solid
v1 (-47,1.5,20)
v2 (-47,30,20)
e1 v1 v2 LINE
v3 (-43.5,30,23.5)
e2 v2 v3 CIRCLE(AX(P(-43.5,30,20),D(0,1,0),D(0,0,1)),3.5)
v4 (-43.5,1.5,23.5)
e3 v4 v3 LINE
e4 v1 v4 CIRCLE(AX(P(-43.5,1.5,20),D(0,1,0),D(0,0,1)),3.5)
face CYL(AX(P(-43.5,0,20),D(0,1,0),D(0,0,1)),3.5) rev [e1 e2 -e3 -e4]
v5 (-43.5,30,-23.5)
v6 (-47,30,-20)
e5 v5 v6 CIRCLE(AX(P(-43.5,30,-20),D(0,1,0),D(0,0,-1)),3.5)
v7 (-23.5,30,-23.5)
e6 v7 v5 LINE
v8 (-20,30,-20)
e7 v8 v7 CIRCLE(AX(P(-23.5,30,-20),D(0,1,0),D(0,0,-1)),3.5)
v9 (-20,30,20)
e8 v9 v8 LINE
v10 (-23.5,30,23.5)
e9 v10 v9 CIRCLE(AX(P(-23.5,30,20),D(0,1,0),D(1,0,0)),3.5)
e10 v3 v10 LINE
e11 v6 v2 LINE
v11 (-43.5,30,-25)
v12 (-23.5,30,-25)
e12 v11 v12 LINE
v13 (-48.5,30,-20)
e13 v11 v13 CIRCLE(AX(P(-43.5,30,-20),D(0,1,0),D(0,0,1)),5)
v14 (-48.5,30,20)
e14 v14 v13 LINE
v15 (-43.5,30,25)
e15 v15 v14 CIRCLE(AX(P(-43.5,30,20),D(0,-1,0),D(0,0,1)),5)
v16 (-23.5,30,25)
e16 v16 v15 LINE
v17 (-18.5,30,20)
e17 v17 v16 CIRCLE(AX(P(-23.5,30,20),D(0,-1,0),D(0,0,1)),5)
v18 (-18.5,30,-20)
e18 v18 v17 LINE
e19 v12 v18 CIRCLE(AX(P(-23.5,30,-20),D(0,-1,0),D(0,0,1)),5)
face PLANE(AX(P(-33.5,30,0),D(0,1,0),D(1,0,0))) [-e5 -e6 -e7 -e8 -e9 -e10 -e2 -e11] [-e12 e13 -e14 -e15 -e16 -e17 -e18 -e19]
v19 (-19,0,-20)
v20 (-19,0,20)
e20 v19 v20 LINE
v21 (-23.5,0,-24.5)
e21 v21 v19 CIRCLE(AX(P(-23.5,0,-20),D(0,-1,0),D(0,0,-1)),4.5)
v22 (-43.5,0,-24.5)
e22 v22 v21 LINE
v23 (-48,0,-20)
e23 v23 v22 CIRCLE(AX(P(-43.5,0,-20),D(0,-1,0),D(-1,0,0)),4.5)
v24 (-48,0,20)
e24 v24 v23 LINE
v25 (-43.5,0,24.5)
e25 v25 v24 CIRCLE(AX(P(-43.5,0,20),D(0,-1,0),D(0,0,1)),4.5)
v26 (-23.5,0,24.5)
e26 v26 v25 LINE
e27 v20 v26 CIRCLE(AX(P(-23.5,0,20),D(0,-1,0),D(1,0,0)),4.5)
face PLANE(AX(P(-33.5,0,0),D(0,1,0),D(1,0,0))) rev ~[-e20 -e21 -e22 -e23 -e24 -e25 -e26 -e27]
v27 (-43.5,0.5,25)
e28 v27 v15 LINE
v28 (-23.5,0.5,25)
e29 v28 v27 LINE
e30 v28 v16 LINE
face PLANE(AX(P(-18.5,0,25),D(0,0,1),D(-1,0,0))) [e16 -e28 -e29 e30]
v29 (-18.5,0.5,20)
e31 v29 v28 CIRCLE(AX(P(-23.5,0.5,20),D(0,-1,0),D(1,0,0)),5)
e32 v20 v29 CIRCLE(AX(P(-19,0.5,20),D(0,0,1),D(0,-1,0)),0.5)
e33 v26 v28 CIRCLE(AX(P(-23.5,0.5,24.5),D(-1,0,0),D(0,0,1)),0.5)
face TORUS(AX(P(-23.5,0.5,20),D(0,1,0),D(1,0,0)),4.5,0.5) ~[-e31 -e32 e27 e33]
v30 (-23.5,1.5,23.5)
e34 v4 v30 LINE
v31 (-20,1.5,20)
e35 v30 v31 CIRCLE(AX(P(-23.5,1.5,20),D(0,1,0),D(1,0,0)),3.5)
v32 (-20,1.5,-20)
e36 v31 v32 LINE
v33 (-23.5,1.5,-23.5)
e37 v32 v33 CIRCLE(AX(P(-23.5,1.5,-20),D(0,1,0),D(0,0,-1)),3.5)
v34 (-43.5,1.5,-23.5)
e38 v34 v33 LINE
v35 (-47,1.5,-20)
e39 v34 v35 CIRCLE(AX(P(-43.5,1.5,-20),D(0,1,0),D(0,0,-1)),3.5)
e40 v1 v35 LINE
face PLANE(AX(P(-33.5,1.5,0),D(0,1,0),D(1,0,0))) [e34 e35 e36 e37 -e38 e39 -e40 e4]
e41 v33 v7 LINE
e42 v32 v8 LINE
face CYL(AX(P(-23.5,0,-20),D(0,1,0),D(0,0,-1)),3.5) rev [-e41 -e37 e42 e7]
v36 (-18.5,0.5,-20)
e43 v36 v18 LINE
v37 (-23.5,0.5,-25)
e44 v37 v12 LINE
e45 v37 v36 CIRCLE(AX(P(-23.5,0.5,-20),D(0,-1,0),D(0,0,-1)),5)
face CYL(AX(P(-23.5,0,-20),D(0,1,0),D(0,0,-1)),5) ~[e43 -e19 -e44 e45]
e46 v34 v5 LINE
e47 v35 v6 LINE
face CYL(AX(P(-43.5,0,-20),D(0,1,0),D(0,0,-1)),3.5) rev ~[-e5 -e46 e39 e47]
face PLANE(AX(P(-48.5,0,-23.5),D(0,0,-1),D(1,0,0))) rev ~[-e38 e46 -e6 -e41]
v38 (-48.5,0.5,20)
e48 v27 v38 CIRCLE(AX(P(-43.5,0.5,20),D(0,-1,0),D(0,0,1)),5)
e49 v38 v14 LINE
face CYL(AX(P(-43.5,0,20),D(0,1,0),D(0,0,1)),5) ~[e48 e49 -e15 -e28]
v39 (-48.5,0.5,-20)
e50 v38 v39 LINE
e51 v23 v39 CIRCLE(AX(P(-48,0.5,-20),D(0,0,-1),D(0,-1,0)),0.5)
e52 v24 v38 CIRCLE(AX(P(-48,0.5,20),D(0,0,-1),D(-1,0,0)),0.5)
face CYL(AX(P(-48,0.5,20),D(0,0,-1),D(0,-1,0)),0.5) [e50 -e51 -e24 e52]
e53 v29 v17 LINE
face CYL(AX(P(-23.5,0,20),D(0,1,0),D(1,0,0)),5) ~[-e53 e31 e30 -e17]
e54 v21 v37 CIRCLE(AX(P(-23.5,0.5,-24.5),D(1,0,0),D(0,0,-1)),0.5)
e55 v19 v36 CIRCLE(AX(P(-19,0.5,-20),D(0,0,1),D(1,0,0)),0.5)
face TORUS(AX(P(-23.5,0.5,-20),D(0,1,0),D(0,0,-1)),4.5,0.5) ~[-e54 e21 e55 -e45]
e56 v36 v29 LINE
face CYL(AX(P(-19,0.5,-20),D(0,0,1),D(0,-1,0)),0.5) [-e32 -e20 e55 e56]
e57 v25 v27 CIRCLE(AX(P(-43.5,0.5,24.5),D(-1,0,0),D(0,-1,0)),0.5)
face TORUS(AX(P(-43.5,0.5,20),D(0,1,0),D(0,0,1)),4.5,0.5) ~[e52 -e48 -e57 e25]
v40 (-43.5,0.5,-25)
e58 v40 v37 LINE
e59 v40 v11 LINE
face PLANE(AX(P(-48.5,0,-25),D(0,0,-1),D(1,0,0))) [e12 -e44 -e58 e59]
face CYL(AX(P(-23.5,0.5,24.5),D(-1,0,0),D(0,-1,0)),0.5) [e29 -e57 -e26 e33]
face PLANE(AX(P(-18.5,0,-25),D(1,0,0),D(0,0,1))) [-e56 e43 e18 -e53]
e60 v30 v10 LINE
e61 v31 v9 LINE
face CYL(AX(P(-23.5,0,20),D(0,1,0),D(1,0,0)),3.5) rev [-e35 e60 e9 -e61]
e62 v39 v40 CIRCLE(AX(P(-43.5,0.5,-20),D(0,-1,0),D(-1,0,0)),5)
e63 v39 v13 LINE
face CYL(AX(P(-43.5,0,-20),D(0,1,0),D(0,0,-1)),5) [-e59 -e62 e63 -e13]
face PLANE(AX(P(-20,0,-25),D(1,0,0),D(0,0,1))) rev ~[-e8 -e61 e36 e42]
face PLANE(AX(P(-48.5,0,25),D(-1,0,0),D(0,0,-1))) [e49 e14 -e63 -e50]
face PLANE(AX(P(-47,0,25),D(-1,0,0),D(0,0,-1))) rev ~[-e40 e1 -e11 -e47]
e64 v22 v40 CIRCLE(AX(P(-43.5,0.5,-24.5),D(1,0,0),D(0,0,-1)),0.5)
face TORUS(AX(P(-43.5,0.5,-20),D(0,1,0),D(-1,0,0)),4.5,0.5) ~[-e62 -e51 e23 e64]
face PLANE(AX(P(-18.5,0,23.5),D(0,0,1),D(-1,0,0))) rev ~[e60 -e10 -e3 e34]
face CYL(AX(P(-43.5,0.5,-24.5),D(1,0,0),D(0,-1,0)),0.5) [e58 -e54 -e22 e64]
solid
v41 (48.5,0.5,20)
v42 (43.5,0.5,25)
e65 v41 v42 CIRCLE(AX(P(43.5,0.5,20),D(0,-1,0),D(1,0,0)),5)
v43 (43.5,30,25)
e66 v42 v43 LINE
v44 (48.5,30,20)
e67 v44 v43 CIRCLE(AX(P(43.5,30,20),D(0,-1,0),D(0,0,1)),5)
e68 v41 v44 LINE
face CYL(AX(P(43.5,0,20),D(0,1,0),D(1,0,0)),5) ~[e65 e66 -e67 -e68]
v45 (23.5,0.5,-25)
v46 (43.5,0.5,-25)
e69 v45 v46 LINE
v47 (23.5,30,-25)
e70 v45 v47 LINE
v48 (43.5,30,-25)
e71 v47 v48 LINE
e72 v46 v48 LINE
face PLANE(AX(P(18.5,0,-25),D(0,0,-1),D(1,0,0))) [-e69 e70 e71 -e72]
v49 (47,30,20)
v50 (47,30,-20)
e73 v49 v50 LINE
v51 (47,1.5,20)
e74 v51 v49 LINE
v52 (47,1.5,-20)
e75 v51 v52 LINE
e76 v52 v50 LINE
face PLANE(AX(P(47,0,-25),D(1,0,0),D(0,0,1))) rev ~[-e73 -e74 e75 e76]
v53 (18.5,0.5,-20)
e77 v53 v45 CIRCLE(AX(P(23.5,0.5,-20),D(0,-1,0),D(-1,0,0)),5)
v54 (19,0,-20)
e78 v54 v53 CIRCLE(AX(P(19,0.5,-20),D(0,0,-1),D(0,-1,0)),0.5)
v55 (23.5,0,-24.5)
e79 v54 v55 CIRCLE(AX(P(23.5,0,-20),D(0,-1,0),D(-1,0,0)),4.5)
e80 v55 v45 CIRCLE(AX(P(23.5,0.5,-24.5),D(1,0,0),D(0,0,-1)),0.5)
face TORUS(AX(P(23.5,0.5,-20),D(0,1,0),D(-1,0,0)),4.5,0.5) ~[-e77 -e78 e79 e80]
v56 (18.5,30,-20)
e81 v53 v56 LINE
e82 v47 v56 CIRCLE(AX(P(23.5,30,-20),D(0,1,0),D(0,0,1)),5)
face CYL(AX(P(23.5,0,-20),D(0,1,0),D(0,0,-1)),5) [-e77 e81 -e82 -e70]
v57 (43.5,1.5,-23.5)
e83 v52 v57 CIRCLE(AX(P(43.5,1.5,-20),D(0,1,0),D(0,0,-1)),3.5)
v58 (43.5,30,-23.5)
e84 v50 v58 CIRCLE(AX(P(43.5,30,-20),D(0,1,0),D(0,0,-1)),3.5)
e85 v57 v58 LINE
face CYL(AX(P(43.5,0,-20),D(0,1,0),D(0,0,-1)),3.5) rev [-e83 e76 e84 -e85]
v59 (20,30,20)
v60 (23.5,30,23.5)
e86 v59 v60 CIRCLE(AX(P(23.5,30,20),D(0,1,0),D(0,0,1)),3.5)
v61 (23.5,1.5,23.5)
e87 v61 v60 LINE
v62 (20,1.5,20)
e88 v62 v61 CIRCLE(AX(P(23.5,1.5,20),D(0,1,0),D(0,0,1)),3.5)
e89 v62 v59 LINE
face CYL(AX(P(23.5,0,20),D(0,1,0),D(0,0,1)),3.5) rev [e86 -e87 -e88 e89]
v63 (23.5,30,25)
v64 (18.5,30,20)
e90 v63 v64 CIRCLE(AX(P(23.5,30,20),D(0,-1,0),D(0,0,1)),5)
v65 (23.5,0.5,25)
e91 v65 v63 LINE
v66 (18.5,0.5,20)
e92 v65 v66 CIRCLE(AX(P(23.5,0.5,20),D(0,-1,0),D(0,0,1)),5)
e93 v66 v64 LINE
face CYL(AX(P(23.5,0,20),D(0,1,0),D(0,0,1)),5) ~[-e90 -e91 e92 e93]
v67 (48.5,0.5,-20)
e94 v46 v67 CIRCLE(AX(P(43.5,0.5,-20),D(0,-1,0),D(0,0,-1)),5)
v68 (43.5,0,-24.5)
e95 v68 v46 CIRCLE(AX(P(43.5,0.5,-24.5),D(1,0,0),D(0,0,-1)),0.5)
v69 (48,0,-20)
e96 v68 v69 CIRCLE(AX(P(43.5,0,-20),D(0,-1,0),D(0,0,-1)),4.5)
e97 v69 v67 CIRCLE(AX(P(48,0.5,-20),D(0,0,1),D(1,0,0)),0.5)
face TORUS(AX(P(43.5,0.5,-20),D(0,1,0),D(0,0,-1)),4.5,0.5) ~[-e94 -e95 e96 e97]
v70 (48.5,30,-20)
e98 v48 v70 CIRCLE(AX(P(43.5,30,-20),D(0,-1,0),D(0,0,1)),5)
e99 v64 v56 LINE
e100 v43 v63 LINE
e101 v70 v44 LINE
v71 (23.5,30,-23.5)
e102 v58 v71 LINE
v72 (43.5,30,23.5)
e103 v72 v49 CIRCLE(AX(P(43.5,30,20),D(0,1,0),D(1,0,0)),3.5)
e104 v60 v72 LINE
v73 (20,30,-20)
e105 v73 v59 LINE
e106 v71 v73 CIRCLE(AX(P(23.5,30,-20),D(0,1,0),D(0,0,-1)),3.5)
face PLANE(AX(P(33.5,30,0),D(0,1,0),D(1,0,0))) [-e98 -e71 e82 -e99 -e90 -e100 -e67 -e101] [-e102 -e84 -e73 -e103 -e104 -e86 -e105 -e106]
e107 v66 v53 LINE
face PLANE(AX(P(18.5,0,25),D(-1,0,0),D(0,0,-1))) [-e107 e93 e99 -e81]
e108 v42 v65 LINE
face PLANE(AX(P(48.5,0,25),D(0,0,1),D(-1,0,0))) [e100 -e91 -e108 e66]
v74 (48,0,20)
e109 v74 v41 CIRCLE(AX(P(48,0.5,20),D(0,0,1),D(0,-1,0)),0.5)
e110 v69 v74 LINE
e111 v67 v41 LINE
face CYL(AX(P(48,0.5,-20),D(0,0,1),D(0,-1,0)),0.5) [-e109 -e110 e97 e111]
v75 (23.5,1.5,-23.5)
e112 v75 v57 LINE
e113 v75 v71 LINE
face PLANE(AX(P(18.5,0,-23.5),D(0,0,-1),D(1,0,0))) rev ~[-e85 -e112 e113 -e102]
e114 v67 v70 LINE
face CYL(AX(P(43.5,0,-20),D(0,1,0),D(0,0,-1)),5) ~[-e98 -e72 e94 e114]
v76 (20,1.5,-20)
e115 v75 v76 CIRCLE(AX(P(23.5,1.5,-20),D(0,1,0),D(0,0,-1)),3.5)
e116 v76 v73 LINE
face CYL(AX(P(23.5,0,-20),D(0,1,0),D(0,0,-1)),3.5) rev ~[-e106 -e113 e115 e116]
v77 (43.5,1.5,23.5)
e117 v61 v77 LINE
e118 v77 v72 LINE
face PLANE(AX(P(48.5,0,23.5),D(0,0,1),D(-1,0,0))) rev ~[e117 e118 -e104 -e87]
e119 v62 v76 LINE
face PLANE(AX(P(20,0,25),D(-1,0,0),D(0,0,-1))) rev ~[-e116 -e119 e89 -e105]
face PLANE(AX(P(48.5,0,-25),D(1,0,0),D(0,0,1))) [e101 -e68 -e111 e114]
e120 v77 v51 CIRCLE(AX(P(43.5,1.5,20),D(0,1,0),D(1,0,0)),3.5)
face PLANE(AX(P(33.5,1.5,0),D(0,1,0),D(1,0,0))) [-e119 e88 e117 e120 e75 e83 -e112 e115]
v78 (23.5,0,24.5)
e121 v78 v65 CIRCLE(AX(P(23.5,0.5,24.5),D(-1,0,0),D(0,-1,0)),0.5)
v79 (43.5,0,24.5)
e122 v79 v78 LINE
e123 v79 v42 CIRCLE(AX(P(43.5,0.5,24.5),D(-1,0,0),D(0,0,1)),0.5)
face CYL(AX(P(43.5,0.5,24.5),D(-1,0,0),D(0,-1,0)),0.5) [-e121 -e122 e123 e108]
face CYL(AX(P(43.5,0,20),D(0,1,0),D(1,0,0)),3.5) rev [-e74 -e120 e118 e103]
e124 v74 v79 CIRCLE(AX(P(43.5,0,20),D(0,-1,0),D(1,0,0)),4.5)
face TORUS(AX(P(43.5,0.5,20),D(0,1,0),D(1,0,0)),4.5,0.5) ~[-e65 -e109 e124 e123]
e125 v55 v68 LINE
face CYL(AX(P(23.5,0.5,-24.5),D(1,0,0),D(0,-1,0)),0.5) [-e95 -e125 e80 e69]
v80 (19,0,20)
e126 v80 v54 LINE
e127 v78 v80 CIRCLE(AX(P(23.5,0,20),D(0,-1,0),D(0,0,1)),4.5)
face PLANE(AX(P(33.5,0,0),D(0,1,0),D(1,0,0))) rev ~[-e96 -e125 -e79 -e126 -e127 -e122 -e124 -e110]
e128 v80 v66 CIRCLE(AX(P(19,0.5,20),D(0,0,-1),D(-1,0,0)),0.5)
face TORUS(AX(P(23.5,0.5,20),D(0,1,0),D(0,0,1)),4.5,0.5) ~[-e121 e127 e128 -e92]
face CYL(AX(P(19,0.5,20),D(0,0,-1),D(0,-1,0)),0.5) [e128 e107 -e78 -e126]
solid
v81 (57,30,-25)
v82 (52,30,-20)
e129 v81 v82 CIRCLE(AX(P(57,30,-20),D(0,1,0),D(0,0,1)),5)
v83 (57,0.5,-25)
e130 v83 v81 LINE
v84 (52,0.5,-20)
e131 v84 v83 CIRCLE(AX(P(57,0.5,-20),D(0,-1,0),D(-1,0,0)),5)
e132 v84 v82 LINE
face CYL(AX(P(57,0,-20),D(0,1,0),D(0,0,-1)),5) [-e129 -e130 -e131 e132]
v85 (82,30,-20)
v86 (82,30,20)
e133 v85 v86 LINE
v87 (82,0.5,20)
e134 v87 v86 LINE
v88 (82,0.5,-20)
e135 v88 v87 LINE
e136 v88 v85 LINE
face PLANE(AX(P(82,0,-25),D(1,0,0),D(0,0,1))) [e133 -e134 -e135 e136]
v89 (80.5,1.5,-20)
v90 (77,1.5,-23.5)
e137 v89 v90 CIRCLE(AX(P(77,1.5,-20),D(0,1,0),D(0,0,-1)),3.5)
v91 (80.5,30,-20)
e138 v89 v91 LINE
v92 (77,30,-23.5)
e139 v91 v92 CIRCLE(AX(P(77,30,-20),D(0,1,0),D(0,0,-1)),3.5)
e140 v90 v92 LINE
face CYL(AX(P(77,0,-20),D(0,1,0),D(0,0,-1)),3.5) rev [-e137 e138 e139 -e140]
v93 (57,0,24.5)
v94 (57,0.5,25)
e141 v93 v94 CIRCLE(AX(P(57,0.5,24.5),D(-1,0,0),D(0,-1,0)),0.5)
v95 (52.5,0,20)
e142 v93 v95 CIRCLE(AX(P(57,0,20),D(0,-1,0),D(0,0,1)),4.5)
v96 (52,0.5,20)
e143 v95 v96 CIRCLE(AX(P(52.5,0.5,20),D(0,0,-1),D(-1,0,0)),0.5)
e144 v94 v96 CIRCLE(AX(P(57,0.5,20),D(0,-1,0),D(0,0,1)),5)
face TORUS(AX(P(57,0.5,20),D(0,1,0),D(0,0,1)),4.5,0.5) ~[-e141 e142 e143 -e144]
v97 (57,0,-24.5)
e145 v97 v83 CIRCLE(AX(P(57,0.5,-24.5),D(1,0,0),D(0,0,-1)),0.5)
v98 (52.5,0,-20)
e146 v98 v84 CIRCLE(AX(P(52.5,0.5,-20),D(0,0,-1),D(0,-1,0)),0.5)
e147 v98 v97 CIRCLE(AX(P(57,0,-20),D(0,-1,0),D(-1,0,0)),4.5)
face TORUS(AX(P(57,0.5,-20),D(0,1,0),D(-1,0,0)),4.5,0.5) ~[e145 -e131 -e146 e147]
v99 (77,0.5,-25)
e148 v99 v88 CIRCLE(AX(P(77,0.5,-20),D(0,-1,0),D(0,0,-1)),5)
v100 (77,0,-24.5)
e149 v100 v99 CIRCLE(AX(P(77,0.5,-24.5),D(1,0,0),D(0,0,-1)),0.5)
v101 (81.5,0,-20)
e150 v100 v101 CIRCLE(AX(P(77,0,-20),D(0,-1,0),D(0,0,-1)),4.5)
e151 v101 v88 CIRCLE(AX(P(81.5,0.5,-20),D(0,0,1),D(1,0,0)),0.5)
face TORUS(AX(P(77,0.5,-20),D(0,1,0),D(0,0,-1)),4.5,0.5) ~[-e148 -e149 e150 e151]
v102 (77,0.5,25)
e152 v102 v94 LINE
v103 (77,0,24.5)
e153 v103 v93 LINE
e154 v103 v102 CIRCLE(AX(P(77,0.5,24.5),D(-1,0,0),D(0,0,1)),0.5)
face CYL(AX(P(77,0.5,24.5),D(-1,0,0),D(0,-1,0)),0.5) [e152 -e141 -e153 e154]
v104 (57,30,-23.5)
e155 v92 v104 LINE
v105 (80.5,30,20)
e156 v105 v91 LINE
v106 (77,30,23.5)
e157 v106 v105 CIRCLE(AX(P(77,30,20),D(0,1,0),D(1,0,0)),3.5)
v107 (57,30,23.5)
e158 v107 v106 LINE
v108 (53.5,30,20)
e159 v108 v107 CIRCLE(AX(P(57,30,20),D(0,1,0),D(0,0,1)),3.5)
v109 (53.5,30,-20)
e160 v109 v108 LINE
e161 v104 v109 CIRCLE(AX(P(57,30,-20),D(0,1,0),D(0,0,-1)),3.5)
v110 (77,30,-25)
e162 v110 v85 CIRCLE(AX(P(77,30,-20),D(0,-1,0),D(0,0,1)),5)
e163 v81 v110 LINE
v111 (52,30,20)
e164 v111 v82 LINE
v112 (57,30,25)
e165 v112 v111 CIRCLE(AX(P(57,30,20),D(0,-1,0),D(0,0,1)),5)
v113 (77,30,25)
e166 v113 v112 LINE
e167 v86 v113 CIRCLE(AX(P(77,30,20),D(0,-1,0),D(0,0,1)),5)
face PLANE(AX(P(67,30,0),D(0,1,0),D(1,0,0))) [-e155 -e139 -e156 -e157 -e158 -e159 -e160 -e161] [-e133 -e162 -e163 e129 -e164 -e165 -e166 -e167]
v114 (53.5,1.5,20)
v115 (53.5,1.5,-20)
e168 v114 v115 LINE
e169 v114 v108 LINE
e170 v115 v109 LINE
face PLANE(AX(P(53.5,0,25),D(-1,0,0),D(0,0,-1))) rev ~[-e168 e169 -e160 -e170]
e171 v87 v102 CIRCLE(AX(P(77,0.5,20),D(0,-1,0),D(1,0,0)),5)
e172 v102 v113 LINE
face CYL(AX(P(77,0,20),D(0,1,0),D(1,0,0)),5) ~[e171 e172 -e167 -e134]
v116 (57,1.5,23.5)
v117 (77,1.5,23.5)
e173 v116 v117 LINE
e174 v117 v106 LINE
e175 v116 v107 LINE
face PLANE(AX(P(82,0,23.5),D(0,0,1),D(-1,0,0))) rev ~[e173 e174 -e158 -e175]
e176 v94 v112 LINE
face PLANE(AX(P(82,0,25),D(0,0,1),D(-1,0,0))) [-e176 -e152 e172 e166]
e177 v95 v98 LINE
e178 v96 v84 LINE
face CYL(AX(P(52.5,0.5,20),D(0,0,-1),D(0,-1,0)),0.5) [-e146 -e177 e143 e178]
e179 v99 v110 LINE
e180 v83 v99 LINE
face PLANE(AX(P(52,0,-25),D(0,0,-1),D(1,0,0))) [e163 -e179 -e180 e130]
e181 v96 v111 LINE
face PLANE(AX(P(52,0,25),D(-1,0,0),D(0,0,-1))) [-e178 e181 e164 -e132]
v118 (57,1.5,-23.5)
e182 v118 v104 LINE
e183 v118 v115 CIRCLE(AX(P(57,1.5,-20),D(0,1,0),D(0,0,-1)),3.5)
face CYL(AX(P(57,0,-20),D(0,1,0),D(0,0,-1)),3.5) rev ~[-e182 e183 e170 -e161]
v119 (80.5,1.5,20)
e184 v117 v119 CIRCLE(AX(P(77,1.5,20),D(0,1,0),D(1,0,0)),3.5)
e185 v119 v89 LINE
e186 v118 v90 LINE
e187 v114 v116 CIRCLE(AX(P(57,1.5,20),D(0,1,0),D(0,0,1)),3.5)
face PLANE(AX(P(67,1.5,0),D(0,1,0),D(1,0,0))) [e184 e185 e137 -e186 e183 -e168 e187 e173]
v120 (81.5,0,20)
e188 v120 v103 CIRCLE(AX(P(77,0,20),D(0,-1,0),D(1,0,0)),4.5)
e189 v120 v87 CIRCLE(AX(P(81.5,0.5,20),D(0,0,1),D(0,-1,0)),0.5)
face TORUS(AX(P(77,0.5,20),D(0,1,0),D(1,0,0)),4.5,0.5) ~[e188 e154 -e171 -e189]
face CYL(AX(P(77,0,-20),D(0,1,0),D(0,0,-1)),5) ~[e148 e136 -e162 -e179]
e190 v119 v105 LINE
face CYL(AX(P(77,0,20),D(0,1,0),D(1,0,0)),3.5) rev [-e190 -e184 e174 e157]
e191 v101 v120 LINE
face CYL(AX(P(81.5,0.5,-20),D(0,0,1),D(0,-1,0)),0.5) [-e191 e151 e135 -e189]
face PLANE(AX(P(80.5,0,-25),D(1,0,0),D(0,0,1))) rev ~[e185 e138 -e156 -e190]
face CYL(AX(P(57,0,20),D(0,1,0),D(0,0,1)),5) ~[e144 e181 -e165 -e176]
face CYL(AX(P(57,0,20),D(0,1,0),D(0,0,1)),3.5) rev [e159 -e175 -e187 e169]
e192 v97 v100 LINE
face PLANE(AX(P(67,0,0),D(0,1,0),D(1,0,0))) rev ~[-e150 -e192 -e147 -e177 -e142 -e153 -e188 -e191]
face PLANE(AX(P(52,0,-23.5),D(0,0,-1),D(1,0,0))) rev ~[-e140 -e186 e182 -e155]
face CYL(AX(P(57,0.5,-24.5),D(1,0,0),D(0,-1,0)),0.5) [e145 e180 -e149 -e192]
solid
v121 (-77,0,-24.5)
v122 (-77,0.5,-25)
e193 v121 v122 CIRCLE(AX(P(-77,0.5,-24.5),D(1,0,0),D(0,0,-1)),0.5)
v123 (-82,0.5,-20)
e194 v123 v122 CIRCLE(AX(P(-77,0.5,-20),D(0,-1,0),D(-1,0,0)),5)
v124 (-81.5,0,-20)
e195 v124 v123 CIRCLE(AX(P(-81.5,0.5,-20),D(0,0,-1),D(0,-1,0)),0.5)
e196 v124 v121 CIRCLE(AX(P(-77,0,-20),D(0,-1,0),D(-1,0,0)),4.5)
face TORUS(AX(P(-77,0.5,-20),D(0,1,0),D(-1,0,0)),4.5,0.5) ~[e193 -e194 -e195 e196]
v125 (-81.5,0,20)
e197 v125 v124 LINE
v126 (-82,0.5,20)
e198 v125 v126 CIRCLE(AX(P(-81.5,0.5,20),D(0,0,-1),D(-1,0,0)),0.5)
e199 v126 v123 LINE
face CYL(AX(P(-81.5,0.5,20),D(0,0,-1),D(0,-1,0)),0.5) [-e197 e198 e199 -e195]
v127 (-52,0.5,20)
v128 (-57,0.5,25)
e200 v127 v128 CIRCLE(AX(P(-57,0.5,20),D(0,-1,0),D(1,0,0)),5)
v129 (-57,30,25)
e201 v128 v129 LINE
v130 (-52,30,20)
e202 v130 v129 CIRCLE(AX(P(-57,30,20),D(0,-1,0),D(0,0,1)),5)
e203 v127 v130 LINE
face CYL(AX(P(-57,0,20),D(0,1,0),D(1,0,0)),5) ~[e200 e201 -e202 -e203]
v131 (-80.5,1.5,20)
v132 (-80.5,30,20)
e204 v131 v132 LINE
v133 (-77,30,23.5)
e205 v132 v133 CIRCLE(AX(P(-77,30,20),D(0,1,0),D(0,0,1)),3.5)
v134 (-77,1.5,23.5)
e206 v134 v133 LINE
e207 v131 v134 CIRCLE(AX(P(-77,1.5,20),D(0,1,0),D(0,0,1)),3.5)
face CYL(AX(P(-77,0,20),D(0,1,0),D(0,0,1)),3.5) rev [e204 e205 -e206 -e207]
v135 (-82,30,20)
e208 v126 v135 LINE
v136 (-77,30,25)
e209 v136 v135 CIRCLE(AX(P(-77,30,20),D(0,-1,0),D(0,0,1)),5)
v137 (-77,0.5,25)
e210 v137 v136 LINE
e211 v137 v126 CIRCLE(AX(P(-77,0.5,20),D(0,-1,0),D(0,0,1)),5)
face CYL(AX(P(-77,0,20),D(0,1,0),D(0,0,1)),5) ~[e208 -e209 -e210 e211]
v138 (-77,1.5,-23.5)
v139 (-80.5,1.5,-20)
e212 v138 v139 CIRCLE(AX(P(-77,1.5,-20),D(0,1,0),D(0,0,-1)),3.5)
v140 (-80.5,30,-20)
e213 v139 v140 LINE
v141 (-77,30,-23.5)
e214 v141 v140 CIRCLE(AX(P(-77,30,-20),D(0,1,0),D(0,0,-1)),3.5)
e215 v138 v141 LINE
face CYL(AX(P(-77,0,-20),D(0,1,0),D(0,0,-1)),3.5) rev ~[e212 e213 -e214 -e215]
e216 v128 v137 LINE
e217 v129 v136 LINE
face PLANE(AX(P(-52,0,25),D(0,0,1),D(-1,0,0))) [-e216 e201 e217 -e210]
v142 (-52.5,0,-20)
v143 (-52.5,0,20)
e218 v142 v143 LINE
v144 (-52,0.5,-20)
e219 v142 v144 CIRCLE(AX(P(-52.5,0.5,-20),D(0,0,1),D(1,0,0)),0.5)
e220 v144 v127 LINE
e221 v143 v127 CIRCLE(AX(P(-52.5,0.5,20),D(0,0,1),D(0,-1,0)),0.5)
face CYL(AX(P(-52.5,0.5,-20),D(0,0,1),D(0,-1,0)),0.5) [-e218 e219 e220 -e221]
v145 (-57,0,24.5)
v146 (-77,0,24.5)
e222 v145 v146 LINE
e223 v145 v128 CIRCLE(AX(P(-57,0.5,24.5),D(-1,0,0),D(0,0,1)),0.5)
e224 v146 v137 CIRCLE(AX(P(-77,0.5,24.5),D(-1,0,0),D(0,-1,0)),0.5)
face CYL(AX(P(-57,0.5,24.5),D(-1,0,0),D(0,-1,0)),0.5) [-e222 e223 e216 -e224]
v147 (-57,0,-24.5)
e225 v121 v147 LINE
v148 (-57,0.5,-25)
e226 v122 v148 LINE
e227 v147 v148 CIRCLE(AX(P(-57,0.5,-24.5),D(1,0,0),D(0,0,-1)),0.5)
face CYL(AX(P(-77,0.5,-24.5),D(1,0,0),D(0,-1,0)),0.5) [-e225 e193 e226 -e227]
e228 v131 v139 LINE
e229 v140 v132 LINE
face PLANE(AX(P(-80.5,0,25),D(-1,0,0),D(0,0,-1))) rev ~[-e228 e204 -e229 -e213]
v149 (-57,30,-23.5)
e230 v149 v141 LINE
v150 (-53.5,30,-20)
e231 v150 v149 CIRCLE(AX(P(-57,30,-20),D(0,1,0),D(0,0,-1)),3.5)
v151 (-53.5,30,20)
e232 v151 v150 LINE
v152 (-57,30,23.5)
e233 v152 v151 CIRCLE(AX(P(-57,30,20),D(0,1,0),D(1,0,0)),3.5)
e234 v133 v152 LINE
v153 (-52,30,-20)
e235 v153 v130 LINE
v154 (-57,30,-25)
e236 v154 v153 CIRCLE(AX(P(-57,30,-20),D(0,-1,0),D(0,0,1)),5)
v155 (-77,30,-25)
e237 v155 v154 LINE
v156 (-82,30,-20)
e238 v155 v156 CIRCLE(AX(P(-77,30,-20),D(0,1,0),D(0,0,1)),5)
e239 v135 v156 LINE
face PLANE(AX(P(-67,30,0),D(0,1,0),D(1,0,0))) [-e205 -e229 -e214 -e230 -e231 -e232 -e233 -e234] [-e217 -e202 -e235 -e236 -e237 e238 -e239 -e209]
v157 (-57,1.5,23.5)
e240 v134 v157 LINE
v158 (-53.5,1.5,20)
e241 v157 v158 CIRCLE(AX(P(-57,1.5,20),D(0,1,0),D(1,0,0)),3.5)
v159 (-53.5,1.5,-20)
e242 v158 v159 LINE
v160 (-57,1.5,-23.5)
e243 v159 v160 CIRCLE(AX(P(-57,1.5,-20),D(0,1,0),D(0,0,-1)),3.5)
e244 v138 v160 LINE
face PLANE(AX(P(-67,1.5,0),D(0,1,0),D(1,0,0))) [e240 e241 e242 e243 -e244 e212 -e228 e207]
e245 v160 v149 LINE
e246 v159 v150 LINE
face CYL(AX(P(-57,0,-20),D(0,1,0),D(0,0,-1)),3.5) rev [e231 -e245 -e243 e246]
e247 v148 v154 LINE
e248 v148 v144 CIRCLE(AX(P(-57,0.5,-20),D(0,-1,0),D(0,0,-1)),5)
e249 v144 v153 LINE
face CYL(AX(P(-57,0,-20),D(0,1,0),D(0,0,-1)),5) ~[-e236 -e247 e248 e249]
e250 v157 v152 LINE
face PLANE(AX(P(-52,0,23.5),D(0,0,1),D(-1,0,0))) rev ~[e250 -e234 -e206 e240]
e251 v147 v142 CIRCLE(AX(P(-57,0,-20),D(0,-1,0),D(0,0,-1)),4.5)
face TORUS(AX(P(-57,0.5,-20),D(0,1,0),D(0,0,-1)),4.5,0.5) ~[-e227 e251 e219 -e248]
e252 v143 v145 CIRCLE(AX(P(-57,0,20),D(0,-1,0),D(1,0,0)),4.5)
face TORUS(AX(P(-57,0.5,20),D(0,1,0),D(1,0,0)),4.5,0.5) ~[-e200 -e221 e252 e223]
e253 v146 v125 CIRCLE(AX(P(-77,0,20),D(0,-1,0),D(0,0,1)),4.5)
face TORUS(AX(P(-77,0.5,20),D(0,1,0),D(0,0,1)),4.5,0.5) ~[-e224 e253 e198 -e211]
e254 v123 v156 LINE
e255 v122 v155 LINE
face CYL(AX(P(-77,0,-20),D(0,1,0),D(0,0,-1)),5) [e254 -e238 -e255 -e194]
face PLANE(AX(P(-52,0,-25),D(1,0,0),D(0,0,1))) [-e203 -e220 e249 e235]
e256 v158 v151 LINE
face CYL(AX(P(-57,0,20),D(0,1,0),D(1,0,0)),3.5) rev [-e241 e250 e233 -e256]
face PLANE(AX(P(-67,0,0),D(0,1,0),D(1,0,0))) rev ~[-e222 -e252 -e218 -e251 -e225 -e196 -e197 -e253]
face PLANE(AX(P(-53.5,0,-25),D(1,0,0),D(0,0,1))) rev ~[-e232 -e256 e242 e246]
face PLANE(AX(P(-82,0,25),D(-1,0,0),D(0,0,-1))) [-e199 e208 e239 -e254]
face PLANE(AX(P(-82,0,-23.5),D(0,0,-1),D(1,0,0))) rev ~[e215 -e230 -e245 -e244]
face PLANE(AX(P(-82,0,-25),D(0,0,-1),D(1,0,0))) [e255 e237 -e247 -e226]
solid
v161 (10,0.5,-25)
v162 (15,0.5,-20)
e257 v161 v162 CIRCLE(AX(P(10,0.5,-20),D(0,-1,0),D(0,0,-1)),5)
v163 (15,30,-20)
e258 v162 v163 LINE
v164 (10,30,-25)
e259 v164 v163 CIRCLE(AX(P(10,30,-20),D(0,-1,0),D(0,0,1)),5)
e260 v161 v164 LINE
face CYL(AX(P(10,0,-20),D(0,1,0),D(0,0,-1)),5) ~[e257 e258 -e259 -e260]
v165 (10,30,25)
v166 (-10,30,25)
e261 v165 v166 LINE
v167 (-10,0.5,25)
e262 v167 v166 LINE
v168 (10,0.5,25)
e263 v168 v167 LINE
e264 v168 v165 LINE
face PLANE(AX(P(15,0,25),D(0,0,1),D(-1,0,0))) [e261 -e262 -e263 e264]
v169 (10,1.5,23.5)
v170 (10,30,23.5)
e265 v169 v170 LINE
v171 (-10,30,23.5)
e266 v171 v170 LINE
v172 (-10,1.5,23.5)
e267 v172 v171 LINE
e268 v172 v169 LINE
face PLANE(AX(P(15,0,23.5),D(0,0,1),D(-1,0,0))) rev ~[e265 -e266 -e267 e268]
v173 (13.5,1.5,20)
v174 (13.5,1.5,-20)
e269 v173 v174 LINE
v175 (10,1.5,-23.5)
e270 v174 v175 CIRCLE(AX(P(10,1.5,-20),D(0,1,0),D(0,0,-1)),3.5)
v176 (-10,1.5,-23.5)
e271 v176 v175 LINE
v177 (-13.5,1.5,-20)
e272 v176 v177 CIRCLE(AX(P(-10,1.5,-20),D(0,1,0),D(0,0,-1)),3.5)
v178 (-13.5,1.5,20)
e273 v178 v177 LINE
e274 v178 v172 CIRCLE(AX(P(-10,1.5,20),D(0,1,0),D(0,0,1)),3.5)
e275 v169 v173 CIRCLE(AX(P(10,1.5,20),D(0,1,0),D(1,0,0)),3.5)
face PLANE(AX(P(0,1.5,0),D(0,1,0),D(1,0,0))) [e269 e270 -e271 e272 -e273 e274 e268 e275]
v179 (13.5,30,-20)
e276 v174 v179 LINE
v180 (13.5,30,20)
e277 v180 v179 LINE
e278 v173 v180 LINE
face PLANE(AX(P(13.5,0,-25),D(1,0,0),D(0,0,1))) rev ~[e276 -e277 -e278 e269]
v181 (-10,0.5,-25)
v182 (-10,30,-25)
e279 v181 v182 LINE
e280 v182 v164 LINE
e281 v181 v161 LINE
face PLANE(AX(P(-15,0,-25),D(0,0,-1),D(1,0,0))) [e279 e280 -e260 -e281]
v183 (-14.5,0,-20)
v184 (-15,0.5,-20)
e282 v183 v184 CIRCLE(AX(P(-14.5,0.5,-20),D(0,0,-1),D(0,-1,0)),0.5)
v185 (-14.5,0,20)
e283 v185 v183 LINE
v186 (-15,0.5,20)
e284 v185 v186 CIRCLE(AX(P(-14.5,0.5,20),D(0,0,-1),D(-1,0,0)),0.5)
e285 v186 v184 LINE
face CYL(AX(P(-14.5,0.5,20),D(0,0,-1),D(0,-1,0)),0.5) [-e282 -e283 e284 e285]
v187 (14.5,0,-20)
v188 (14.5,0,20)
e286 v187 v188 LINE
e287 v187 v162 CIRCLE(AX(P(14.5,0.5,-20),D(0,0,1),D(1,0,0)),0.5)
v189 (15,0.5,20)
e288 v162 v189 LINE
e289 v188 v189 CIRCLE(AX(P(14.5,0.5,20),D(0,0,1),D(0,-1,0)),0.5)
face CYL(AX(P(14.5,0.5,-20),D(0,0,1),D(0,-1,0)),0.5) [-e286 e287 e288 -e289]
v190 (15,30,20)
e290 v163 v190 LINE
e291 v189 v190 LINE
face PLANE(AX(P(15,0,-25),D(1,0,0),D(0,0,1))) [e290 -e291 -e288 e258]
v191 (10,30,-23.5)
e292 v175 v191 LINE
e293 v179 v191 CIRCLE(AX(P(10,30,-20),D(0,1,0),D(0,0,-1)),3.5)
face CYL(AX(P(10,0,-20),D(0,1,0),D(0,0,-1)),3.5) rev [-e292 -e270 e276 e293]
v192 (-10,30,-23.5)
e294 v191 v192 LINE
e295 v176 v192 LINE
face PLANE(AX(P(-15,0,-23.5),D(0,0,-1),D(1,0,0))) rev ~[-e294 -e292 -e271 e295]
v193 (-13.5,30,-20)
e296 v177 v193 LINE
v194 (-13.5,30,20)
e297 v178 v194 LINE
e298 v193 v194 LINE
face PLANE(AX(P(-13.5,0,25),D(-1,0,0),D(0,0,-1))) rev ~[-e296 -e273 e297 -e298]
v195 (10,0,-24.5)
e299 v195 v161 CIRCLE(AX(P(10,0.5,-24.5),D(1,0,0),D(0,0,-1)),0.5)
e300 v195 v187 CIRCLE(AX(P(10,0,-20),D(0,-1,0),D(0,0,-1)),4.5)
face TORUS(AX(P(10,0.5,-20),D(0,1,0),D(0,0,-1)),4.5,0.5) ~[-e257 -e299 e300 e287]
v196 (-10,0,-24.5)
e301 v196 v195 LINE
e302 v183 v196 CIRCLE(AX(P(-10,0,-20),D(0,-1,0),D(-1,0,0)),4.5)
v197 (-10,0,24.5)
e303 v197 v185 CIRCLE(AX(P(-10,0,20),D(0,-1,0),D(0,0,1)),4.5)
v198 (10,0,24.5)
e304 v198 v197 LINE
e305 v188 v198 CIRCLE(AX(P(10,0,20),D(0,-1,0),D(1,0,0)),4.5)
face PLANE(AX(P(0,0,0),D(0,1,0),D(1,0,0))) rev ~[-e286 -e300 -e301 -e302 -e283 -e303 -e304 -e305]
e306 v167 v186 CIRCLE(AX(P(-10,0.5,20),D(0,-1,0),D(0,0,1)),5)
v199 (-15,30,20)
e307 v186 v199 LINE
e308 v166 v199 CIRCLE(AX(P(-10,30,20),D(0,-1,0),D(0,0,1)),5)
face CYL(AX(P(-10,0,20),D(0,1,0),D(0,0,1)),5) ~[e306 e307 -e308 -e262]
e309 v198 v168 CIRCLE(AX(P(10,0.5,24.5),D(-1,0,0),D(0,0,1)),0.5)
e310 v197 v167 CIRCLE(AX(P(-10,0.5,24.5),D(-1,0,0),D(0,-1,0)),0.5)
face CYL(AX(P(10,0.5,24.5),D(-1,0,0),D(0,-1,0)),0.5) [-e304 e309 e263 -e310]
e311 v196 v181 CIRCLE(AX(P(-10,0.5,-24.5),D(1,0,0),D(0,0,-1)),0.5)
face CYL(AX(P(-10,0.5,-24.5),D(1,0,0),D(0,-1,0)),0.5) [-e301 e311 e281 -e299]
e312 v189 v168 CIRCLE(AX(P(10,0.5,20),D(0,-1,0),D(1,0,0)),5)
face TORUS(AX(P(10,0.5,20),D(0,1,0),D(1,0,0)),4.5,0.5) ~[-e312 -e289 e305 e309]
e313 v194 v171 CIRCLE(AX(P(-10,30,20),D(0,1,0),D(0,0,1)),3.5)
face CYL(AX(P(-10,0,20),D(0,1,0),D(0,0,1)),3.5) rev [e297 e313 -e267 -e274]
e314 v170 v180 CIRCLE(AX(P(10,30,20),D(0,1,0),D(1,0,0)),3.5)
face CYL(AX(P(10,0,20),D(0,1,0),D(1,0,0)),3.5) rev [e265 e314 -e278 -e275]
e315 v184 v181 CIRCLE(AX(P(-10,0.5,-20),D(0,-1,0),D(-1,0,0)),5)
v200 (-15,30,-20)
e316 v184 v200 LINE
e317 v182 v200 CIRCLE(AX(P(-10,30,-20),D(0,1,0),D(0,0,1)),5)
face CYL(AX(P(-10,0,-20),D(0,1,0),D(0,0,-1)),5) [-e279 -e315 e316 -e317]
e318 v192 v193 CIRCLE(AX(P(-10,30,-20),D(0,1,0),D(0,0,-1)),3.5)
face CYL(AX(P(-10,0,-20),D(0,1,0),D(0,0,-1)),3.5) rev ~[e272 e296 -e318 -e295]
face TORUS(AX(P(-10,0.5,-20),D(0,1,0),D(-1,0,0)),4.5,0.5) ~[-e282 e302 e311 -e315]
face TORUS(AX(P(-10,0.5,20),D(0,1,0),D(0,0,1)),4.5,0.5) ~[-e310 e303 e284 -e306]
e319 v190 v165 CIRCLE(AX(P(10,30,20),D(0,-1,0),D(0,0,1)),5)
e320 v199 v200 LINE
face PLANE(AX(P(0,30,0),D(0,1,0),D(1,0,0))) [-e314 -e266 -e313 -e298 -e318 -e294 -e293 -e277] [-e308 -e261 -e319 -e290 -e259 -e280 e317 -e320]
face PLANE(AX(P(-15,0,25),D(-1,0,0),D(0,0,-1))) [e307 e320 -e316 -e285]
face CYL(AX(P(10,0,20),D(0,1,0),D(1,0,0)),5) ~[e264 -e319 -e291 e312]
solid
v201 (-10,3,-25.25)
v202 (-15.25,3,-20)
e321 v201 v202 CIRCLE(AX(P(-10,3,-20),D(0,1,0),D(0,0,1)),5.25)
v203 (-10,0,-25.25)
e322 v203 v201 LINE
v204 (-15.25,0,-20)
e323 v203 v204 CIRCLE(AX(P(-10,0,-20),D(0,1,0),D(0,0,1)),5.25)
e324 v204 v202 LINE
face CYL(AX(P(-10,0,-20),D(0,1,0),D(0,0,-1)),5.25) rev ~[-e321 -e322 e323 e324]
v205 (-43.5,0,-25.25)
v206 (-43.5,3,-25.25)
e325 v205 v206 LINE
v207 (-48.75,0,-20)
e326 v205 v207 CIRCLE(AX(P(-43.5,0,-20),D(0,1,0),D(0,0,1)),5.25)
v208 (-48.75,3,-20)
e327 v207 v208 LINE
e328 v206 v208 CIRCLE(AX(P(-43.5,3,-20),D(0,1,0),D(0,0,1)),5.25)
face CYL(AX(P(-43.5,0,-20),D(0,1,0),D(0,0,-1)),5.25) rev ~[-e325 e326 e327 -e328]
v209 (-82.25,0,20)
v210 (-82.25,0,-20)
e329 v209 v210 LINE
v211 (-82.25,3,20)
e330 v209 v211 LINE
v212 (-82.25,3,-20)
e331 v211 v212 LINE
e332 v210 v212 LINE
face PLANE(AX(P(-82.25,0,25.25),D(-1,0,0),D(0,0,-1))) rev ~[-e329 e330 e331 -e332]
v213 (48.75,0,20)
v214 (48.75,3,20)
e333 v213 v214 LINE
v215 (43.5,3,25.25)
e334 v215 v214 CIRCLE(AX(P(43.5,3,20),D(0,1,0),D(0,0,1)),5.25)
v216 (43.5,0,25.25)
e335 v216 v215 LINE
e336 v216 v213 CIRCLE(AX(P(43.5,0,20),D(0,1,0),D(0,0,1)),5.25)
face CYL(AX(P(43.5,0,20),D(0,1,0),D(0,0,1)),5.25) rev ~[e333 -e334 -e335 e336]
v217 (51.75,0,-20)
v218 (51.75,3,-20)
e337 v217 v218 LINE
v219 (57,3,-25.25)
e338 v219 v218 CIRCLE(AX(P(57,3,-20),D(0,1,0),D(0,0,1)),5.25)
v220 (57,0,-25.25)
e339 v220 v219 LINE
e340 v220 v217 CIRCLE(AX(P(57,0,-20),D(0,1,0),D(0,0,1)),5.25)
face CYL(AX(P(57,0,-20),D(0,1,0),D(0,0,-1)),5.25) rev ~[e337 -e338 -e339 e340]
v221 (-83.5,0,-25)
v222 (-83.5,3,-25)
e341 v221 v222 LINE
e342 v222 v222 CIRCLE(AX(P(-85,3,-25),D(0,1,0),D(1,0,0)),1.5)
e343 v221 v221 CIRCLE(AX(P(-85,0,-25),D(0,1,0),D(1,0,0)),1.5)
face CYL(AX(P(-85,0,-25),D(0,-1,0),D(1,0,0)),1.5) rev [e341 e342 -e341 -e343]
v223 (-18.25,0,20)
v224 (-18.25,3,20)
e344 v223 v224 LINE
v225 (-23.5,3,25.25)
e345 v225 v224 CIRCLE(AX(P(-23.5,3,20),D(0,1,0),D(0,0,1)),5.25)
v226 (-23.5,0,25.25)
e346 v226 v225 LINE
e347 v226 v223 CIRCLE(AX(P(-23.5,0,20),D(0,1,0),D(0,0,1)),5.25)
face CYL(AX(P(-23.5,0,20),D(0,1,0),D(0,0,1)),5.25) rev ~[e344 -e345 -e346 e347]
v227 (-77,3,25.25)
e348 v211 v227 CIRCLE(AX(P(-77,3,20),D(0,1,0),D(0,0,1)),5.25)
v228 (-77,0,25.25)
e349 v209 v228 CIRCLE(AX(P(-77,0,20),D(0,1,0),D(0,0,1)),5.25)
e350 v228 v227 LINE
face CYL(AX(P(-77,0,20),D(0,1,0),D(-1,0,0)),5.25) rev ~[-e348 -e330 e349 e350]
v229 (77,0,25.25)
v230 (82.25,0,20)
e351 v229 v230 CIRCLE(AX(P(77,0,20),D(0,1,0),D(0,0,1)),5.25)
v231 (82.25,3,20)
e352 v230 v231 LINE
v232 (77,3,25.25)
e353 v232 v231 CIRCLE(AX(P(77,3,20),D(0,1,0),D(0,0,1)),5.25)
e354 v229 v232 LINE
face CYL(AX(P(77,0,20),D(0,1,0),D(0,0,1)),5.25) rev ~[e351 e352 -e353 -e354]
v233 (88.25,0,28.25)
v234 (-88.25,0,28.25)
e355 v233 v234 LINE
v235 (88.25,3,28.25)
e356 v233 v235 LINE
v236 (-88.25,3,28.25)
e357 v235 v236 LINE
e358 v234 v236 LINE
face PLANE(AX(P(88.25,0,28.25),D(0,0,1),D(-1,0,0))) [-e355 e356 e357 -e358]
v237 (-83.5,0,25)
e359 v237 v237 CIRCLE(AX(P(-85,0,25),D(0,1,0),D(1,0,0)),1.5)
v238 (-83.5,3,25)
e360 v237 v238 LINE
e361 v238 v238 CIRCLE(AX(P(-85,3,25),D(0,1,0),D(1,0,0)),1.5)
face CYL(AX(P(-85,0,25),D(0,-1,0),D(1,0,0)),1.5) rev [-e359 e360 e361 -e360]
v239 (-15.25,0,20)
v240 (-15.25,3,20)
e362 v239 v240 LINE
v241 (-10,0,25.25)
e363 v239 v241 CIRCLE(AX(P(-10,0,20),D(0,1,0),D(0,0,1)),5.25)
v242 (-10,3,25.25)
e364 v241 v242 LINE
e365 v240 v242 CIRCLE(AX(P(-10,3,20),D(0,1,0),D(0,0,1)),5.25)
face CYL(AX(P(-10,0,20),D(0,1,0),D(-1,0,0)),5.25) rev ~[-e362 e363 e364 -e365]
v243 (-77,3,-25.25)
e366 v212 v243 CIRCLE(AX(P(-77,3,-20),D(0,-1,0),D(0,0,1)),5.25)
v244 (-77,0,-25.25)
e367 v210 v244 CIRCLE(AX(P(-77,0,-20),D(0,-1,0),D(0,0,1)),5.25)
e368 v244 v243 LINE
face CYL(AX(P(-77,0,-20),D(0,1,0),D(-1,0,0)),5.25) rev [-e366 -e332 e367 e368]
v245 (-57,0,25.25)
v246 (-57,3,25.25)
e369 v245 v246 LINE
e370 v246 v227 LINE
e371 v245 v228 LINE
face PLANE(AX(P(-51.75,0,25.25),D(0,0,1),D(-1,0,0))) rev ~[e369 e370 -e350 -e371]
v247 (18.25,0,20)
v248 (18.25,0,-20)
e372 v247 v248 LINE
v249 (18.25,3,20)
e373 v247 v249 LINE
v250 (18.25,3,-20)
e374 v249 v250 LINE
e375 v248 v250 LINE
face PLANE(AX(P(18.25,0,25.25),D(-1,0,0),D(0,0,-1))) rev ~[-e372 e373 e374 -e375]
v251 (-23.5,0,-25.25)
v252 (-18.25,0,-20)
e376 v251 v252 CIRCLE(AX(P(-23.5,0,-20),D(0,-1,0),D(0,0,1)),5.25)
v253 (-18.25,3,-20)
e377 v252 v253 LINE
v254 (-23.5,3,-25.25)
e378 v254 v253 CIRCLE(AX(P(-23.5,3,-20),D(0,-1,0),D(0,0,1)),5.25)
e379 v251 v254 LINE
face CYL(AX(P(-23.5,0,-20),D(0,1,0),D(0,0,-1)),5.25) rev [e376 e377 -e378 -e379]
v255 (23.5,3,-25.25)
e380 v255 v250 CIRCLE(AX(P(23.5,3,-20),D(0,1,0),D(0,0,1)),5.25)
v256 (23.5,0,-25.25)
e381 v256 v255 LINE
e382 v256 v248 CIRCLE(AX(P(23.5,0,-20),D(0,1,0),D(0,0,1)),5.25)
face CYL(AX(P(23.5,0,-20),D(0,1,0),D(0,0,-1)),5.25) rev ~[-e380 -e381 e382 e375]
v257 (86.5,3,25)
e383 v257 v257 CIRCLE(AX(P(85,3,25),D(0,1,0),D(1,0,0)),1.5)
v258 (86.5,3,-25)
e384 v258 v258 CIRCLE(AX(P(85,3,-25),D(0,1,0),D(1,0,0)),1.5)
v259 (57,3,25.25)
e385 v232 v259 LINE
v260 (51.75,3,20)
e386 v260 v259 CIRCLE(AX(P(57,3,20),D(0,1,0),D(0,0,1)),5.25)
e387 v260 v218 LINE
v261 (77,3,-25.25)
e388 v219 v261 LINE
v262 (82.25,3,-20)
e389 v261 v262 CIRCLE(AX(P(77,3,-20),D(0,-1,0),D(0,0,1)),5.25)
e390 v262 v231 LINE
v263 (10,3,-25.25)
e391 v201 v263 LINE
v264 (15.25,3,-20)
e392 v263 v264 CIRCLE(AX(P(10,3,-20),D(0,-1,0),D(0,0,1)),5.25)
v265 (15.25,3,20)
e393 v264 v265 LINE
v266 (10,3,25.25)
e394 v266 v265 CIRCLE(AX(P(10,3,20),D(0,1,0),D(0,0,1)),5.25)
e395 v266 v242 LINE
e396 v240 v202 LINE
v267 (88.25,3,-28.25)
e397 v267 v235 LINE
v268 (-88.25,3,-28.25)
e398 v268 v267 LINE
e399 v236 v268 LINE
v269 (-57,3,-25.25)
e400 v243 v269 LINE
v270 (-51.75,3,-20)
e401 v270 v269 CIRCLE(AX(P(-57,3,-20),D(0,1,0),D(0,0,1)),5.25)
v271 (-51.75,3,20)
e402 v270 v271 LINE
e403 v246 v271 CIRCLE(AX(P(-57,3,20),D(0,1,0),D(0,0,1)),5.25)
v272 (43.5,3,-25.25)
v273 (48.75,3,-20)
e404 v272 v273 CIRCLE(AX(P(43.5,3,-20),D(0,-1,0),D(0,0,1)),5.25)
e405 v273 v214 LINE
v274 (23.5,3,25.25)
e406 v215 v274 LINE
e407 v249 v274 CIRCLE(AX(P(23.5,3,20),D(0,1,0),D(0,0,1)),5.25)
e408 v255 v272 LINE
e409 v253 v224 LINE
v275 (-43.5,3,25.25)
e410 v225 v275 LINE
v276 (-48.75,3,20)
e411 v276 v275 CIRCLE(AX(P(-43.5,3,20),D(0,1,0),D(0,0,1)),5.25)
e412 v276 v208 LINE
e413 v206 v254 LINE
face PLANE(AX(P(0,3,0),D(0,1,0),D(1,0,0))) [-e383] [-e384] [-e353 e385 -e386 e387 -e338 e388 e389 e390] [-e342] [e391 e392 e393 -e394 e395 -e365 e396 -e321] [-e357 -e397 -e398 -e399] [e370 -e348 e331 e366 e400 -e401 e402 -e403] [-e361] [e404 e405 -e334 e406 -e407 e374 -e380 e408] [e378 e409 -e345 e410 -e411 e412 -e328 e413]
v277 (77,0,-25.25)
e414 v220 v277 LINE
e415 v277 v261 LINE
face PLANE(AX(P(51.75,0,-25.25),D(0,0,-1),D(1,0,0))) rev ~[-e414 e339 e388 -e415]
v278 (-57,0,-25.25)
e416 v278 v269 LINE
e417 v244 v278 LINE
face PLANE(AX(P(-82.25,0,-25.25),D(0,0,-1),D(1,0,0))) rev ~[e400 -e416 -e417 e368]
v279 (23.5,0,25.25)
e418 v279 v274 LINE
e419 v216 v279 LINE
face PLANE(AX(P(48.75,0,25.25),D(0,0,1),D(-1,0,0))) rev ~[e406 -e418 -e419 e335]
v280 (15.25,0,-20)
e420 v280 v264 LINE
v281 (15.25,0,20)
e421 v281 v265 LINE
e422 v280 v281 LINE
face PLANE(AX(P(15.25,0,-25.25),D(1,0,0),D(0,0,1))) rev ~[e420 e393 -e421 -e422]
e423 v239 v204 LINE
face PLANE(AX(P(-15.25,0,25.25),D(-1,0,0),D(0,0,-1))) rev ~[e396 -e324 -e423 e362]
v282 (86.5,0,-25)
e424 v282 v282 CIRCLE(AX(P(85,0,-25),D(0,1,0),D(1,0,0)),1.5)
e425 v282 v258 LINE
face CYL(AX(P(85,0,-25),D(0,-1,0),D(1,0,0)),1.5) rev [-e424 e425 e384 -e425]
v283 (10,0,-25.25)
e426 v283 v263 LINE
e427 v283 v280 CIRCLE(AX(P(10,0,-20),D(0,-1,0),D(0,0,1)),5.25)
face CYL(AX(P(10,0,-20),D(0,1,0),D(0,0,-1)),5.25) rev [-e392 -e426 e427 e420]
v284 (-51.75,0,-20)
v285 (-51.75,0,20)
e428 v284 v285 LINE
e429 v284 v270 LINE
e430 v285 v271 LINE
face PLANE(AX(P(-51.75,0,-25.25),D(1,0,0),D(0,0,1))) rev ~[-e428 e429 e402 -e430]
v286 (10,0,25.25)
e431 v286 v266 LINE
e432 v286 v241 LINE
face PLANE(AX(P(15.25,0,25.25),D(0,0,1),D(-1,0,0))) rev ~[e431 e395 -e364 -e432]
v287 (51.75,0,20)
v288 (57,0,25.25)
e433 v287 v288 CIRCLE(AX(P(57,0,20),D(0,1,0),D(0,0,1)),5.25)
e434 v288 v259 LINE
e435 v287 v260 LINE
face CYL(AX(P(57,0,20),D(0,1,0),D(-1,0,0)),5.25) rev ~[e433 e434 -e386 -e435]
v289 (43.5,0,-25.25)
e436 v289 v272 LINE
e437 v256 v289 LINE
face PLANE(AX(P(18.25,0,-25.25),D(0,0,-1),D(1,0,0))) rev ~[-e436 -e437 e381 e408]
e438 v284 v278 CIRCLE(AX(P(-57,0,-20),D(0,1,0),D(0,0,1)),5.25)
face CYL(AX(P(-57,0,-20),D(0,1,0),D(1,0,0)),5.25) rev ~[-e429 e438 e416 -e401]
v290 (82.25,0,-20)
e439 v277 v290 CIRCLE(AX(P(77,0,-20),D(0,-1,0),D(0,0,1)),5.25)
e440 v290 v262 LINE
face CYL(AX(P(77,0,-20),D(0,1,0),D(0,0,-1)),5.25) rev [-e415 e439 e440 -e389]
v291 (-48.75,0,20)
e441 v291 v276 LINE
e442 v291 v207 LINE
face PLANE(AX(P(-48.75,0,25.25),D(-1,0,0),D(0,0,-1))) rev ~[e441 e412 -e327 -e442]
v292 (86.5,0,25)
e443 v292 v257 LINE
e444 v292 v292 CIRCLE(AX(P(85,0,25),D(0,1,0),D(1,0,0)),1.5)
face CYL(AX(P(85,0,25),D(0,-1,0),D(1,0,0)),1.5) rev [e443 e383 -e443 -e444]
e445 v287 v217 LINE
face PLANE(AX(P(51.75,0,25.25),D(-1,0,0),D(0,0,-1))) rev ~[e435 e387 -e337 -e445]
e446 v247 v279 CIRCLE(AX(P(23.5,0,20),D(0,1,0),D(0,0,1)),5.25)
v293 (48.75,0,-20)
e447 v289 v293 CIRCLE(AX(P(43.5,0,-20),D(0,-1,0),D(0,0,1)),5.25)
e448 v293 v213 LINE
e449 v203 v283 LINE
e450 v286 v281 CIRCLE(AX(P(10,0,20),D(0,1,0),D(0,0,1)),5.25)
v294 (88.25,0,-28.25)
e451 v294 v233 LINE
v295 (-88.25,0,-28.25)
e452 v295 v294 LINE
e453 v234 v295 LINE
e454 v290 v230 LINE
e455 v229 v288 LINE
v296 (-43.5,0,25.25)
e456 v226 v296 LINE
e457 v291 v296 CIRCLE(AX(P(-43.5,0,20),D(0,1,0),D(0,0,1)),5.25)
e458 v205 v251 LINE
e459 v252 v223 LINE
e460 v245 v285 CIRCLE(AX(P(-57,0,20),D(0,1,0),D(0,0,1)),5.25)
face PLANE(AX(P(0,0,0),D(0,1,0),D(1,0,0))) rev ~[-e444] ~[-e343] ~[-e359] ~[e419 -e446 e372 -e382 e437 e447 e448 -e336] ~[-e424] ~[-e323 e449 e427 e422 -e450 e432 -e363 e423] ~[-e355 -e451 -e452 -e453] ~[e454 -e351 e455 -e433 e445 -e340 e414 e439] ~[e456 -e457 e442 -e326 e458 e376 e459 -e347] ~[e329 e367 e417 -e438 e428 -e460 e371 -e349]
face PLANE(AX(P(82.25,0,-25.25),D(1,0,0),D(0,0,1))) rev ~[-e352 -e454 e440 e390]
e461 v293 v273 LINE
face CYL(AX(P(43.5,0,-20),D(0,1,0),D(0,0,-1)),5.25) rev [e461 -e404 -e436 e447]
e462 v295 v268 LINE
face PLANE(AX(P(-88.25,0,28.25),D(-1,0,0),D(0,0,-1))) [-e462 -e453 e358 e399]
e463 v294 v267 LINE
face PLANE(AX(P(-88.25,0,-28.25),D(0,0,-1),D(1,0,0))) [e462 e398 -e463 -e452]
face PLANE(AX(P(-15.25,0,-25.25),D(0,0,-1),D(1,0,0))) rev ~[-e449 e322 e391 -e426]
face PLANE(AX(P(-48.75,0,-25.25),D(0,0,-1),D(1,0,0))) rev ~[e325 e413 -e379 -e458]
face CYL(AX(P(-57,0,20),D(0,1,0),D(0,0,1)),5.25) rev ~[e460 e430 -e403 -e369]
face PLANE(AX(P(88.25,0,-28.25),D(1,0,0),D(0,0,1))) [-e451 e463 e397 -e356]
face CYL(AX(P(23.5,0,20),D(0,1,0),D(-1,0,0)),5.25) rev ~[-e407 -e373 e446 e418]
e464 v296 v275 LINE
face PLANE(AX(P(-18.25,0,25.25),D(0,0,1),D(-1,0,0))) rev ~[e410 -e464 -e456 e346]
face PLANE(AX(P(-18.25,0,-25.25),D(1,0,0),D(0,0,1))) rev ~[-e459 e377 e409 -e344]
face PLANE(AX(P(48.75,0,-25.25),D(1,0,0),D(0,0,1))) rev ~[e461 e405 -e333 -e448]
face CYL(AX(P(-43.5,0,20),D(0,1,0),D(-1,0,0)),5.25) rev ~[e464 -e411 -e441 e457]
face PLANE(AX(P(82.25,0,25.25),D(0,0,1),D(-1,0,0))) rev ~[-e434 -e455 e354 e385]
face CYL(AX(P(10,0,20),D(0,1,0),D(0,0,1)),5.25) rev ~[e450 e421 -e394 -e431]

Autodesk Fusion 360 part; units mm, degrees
sketch "Sketch1" plane through (0, 0, 0) normal (0, 1, 0) x (1, 0, 0) in component "Box"
  line L0 (-15, 25) -> (15, 25)
  line L1 (15, 25) -> (15, -25)
  line L2 (15, -25) -> (-15, -25)
  line L3 (-15, -25) -> (-15, 25)
  line L4 (-15, -25) -> (15, 25) construction
  dimension "d1" = 30
  dimension "d2" = 50
extrude "Extrude1" add sketch "Sketch1" along normal blind 30 makes body 1 in component "Box"
fillet "Fillet1" radius 5 4 edges at (15, 15, 25) (-15, 15, 25) (15, 15, -25) (-15, 15, -25) on bodies 1 in component "Box"
fillet "Fillet2" radius 0.5 8 edges at (13.5355, 0, -23.5355) (0, 0, -25) (-13.5355, 0, -23.5355) (-15, 0, 0) (-13.5355, 0, 23.5355) (0, 0, 25) (13.5355, 0, 23.5355) (15, 0, 0) on bodies 1 in component "Box"
shell "Shell1" thickness 1.5 removed faces 1 at (-5, 30, 6.6667) on bodies 1 in component "Box"
sketch "Sketch1 (2)" plane through (0, 0, 0) normal (0, 1, 0) x (1, 0, 0) in component "Frame"
  line L0 (-88.25, 28.25) -> (88.25, 28.25)
  line L1 (88.25, 28.25) -> (88.25, -28.25)
  line L2 (88.25, -28.25) -> (-88.25, -28.25)
  line L3 (-88.25, -28.25) -> (-88.25, 28.25)
  line L4 (-82.25, 25.25) -> (-51.75, 25.25)
  line L5 (-51.75, 25.25) -> (-51.75, -25.25)
  line L6 (-51.75, -25.25) -> (-82.25, -25.25)
  line L7 (-82.25, -25.25) -> (-82.25, 25.25)
  line L8 (-82.25, -25.25) -> (-51.75, 25.25) construction
  line L9 (-18.25, 25.25) -> (-18.25, -25.25)
  line L10 (-18.25, -25.25) -> (-48.75, -25.25)
  line L11 (-48.75, -25.25) -> (-48.75, 25.25)
  line L12 (-48.75, 25.25) -> (-18.25, 25.25)
  line L13 (15.25, 25.25) -> (15.25, -25.25)
  line L14 (15.25, -25.25) -> (-15.25, -25.25)
  line L15 (-15.25, -25.25) -> (-15.25, 25.25)
  line L16 (-15.25, 25.25) -> (15.25, 25.25)
  line L17 (48.75, 25.25) -> (48.75, -25.25)
  line L18 (48.75, -25.25) -> (18.25, -25.25)
  line L19 (18.25, -25.25) -> (18.25, 25.25)
  line L20 (18.25, 25.25) -> (48.75, 25.25)
  line L21 (82.25, 25.25) -> (82.25, -25.25)
  line L22 (82.25, -25.25) -> (51.75, -25.25)
  line L23 (51.75, -25.25) -> (51.75, 25.25)
  line L24 (51.75, 25.25) -> (82.25, 25.25)
  line L25 (-82.25, -25.25) -> (82.25, 25.25) construction
  line L26 (88.25, -28.25) -> (-88.25, 28.25) construction
  line L27 (85, -25) -> (-85, -25) construction
  line L28 (-85, -25) -> (-85, 25) construction
  line L29 (-85, 25) -> (85, 25) construction
  line L30 (85, 25) -> (85, -25) construction
  line L31 (85, 0) -> (-85, 0) construction
  circle A0 centre (85, -25) radius 1.5
  circle A1 centre (85, 25) radius 1.5
  circle A2 centre (-85, 25) radius 1.5
  circle A3 centre (-85, -25) radius 1.5
  dimension "d10" = 30.5
  dimension "d11" = 50.5
  dimension "d14" = 33.5
  dimension "d15" = 0
  dimension "d16" = 3
  dimension "d19" = 6
  dimension "d24" = 170
  dimension "d25" = 50
  dimension "d26" = 3
  dimension "d27" = 3
  dimension "d28" = 3
  dimension "d29" = 3
extrude "Extrude1'" add sketch "Sketch1 (2)" along normal blind 3 separate body makes body 2 in component "Frame"
fillet "Fillet1'" radius 5.25 20 edges at (18.25, 1.5, -25.25) (51.75, 1.5, -25.25) (-15.25, 1.5, -25.25) (-48.75, 1.5, -25.25) (-82.25, 1.5, -25.25) (-51.75, 1.5, -25.25) (-18.25, 1.5, -25.25) (15.25, 1.5, -25.25) (48.75, 1.5, -25.25) (82.25, 1.5, -25.25) (82.25, 1.5, 25.25) (51.75, 1.5, 25.25) (18.25, 1.5, 25.25) (48.75, 1.5, 25.25) (15.25, 1.5, 25.25) (-51.75, 1.5, 25.25) (-18.25, 1.5, 25.25) (-15.25, 1.5, 25.25) (-48.75, 1.5, 25.25) (-82.25, 1.5, 25.25) on bodies 2 in component "Frame"
pattern_linear "00000000-0000-0000-0000-000000000000" [suppressed]
component "Frame" placed x (1, 0, 0) y (0, 1, 0) z (0, 0, 1) at (0, 0, 0)
component "Box" placed x (1, 0, 0) y (0, 1, 0) z (0, 0, 1) at (-67, 0, 0)
component "Box" placed x (1, 0, 0) y (0, 1, 0) z (0, 0, 1) at (-33.5, 0, 0)
component "Box" placed x (1, 0, 0) y (0, 1, 0) z (0, 0, 1) at (0, 0, 0)
component "Box" placed x (1, 0, 0) y (0, 1, 0) z (0, 0, 1) at (33.5, 0, 0)
component "Box" placed x (1, 0, 0) y (0, 1, 0) z (0, 0, 1) at (67, 0, 0)
equation "d1 = BoxWidth"
equation "d10 = BoxWidth + 0.5 mm"
equation "d14 = d10 + 3 mm"
equation "d27 = d26"
equation "d28 = d26"
equation "d29 = d26"
equation "BoxWidth = 30 mm"
